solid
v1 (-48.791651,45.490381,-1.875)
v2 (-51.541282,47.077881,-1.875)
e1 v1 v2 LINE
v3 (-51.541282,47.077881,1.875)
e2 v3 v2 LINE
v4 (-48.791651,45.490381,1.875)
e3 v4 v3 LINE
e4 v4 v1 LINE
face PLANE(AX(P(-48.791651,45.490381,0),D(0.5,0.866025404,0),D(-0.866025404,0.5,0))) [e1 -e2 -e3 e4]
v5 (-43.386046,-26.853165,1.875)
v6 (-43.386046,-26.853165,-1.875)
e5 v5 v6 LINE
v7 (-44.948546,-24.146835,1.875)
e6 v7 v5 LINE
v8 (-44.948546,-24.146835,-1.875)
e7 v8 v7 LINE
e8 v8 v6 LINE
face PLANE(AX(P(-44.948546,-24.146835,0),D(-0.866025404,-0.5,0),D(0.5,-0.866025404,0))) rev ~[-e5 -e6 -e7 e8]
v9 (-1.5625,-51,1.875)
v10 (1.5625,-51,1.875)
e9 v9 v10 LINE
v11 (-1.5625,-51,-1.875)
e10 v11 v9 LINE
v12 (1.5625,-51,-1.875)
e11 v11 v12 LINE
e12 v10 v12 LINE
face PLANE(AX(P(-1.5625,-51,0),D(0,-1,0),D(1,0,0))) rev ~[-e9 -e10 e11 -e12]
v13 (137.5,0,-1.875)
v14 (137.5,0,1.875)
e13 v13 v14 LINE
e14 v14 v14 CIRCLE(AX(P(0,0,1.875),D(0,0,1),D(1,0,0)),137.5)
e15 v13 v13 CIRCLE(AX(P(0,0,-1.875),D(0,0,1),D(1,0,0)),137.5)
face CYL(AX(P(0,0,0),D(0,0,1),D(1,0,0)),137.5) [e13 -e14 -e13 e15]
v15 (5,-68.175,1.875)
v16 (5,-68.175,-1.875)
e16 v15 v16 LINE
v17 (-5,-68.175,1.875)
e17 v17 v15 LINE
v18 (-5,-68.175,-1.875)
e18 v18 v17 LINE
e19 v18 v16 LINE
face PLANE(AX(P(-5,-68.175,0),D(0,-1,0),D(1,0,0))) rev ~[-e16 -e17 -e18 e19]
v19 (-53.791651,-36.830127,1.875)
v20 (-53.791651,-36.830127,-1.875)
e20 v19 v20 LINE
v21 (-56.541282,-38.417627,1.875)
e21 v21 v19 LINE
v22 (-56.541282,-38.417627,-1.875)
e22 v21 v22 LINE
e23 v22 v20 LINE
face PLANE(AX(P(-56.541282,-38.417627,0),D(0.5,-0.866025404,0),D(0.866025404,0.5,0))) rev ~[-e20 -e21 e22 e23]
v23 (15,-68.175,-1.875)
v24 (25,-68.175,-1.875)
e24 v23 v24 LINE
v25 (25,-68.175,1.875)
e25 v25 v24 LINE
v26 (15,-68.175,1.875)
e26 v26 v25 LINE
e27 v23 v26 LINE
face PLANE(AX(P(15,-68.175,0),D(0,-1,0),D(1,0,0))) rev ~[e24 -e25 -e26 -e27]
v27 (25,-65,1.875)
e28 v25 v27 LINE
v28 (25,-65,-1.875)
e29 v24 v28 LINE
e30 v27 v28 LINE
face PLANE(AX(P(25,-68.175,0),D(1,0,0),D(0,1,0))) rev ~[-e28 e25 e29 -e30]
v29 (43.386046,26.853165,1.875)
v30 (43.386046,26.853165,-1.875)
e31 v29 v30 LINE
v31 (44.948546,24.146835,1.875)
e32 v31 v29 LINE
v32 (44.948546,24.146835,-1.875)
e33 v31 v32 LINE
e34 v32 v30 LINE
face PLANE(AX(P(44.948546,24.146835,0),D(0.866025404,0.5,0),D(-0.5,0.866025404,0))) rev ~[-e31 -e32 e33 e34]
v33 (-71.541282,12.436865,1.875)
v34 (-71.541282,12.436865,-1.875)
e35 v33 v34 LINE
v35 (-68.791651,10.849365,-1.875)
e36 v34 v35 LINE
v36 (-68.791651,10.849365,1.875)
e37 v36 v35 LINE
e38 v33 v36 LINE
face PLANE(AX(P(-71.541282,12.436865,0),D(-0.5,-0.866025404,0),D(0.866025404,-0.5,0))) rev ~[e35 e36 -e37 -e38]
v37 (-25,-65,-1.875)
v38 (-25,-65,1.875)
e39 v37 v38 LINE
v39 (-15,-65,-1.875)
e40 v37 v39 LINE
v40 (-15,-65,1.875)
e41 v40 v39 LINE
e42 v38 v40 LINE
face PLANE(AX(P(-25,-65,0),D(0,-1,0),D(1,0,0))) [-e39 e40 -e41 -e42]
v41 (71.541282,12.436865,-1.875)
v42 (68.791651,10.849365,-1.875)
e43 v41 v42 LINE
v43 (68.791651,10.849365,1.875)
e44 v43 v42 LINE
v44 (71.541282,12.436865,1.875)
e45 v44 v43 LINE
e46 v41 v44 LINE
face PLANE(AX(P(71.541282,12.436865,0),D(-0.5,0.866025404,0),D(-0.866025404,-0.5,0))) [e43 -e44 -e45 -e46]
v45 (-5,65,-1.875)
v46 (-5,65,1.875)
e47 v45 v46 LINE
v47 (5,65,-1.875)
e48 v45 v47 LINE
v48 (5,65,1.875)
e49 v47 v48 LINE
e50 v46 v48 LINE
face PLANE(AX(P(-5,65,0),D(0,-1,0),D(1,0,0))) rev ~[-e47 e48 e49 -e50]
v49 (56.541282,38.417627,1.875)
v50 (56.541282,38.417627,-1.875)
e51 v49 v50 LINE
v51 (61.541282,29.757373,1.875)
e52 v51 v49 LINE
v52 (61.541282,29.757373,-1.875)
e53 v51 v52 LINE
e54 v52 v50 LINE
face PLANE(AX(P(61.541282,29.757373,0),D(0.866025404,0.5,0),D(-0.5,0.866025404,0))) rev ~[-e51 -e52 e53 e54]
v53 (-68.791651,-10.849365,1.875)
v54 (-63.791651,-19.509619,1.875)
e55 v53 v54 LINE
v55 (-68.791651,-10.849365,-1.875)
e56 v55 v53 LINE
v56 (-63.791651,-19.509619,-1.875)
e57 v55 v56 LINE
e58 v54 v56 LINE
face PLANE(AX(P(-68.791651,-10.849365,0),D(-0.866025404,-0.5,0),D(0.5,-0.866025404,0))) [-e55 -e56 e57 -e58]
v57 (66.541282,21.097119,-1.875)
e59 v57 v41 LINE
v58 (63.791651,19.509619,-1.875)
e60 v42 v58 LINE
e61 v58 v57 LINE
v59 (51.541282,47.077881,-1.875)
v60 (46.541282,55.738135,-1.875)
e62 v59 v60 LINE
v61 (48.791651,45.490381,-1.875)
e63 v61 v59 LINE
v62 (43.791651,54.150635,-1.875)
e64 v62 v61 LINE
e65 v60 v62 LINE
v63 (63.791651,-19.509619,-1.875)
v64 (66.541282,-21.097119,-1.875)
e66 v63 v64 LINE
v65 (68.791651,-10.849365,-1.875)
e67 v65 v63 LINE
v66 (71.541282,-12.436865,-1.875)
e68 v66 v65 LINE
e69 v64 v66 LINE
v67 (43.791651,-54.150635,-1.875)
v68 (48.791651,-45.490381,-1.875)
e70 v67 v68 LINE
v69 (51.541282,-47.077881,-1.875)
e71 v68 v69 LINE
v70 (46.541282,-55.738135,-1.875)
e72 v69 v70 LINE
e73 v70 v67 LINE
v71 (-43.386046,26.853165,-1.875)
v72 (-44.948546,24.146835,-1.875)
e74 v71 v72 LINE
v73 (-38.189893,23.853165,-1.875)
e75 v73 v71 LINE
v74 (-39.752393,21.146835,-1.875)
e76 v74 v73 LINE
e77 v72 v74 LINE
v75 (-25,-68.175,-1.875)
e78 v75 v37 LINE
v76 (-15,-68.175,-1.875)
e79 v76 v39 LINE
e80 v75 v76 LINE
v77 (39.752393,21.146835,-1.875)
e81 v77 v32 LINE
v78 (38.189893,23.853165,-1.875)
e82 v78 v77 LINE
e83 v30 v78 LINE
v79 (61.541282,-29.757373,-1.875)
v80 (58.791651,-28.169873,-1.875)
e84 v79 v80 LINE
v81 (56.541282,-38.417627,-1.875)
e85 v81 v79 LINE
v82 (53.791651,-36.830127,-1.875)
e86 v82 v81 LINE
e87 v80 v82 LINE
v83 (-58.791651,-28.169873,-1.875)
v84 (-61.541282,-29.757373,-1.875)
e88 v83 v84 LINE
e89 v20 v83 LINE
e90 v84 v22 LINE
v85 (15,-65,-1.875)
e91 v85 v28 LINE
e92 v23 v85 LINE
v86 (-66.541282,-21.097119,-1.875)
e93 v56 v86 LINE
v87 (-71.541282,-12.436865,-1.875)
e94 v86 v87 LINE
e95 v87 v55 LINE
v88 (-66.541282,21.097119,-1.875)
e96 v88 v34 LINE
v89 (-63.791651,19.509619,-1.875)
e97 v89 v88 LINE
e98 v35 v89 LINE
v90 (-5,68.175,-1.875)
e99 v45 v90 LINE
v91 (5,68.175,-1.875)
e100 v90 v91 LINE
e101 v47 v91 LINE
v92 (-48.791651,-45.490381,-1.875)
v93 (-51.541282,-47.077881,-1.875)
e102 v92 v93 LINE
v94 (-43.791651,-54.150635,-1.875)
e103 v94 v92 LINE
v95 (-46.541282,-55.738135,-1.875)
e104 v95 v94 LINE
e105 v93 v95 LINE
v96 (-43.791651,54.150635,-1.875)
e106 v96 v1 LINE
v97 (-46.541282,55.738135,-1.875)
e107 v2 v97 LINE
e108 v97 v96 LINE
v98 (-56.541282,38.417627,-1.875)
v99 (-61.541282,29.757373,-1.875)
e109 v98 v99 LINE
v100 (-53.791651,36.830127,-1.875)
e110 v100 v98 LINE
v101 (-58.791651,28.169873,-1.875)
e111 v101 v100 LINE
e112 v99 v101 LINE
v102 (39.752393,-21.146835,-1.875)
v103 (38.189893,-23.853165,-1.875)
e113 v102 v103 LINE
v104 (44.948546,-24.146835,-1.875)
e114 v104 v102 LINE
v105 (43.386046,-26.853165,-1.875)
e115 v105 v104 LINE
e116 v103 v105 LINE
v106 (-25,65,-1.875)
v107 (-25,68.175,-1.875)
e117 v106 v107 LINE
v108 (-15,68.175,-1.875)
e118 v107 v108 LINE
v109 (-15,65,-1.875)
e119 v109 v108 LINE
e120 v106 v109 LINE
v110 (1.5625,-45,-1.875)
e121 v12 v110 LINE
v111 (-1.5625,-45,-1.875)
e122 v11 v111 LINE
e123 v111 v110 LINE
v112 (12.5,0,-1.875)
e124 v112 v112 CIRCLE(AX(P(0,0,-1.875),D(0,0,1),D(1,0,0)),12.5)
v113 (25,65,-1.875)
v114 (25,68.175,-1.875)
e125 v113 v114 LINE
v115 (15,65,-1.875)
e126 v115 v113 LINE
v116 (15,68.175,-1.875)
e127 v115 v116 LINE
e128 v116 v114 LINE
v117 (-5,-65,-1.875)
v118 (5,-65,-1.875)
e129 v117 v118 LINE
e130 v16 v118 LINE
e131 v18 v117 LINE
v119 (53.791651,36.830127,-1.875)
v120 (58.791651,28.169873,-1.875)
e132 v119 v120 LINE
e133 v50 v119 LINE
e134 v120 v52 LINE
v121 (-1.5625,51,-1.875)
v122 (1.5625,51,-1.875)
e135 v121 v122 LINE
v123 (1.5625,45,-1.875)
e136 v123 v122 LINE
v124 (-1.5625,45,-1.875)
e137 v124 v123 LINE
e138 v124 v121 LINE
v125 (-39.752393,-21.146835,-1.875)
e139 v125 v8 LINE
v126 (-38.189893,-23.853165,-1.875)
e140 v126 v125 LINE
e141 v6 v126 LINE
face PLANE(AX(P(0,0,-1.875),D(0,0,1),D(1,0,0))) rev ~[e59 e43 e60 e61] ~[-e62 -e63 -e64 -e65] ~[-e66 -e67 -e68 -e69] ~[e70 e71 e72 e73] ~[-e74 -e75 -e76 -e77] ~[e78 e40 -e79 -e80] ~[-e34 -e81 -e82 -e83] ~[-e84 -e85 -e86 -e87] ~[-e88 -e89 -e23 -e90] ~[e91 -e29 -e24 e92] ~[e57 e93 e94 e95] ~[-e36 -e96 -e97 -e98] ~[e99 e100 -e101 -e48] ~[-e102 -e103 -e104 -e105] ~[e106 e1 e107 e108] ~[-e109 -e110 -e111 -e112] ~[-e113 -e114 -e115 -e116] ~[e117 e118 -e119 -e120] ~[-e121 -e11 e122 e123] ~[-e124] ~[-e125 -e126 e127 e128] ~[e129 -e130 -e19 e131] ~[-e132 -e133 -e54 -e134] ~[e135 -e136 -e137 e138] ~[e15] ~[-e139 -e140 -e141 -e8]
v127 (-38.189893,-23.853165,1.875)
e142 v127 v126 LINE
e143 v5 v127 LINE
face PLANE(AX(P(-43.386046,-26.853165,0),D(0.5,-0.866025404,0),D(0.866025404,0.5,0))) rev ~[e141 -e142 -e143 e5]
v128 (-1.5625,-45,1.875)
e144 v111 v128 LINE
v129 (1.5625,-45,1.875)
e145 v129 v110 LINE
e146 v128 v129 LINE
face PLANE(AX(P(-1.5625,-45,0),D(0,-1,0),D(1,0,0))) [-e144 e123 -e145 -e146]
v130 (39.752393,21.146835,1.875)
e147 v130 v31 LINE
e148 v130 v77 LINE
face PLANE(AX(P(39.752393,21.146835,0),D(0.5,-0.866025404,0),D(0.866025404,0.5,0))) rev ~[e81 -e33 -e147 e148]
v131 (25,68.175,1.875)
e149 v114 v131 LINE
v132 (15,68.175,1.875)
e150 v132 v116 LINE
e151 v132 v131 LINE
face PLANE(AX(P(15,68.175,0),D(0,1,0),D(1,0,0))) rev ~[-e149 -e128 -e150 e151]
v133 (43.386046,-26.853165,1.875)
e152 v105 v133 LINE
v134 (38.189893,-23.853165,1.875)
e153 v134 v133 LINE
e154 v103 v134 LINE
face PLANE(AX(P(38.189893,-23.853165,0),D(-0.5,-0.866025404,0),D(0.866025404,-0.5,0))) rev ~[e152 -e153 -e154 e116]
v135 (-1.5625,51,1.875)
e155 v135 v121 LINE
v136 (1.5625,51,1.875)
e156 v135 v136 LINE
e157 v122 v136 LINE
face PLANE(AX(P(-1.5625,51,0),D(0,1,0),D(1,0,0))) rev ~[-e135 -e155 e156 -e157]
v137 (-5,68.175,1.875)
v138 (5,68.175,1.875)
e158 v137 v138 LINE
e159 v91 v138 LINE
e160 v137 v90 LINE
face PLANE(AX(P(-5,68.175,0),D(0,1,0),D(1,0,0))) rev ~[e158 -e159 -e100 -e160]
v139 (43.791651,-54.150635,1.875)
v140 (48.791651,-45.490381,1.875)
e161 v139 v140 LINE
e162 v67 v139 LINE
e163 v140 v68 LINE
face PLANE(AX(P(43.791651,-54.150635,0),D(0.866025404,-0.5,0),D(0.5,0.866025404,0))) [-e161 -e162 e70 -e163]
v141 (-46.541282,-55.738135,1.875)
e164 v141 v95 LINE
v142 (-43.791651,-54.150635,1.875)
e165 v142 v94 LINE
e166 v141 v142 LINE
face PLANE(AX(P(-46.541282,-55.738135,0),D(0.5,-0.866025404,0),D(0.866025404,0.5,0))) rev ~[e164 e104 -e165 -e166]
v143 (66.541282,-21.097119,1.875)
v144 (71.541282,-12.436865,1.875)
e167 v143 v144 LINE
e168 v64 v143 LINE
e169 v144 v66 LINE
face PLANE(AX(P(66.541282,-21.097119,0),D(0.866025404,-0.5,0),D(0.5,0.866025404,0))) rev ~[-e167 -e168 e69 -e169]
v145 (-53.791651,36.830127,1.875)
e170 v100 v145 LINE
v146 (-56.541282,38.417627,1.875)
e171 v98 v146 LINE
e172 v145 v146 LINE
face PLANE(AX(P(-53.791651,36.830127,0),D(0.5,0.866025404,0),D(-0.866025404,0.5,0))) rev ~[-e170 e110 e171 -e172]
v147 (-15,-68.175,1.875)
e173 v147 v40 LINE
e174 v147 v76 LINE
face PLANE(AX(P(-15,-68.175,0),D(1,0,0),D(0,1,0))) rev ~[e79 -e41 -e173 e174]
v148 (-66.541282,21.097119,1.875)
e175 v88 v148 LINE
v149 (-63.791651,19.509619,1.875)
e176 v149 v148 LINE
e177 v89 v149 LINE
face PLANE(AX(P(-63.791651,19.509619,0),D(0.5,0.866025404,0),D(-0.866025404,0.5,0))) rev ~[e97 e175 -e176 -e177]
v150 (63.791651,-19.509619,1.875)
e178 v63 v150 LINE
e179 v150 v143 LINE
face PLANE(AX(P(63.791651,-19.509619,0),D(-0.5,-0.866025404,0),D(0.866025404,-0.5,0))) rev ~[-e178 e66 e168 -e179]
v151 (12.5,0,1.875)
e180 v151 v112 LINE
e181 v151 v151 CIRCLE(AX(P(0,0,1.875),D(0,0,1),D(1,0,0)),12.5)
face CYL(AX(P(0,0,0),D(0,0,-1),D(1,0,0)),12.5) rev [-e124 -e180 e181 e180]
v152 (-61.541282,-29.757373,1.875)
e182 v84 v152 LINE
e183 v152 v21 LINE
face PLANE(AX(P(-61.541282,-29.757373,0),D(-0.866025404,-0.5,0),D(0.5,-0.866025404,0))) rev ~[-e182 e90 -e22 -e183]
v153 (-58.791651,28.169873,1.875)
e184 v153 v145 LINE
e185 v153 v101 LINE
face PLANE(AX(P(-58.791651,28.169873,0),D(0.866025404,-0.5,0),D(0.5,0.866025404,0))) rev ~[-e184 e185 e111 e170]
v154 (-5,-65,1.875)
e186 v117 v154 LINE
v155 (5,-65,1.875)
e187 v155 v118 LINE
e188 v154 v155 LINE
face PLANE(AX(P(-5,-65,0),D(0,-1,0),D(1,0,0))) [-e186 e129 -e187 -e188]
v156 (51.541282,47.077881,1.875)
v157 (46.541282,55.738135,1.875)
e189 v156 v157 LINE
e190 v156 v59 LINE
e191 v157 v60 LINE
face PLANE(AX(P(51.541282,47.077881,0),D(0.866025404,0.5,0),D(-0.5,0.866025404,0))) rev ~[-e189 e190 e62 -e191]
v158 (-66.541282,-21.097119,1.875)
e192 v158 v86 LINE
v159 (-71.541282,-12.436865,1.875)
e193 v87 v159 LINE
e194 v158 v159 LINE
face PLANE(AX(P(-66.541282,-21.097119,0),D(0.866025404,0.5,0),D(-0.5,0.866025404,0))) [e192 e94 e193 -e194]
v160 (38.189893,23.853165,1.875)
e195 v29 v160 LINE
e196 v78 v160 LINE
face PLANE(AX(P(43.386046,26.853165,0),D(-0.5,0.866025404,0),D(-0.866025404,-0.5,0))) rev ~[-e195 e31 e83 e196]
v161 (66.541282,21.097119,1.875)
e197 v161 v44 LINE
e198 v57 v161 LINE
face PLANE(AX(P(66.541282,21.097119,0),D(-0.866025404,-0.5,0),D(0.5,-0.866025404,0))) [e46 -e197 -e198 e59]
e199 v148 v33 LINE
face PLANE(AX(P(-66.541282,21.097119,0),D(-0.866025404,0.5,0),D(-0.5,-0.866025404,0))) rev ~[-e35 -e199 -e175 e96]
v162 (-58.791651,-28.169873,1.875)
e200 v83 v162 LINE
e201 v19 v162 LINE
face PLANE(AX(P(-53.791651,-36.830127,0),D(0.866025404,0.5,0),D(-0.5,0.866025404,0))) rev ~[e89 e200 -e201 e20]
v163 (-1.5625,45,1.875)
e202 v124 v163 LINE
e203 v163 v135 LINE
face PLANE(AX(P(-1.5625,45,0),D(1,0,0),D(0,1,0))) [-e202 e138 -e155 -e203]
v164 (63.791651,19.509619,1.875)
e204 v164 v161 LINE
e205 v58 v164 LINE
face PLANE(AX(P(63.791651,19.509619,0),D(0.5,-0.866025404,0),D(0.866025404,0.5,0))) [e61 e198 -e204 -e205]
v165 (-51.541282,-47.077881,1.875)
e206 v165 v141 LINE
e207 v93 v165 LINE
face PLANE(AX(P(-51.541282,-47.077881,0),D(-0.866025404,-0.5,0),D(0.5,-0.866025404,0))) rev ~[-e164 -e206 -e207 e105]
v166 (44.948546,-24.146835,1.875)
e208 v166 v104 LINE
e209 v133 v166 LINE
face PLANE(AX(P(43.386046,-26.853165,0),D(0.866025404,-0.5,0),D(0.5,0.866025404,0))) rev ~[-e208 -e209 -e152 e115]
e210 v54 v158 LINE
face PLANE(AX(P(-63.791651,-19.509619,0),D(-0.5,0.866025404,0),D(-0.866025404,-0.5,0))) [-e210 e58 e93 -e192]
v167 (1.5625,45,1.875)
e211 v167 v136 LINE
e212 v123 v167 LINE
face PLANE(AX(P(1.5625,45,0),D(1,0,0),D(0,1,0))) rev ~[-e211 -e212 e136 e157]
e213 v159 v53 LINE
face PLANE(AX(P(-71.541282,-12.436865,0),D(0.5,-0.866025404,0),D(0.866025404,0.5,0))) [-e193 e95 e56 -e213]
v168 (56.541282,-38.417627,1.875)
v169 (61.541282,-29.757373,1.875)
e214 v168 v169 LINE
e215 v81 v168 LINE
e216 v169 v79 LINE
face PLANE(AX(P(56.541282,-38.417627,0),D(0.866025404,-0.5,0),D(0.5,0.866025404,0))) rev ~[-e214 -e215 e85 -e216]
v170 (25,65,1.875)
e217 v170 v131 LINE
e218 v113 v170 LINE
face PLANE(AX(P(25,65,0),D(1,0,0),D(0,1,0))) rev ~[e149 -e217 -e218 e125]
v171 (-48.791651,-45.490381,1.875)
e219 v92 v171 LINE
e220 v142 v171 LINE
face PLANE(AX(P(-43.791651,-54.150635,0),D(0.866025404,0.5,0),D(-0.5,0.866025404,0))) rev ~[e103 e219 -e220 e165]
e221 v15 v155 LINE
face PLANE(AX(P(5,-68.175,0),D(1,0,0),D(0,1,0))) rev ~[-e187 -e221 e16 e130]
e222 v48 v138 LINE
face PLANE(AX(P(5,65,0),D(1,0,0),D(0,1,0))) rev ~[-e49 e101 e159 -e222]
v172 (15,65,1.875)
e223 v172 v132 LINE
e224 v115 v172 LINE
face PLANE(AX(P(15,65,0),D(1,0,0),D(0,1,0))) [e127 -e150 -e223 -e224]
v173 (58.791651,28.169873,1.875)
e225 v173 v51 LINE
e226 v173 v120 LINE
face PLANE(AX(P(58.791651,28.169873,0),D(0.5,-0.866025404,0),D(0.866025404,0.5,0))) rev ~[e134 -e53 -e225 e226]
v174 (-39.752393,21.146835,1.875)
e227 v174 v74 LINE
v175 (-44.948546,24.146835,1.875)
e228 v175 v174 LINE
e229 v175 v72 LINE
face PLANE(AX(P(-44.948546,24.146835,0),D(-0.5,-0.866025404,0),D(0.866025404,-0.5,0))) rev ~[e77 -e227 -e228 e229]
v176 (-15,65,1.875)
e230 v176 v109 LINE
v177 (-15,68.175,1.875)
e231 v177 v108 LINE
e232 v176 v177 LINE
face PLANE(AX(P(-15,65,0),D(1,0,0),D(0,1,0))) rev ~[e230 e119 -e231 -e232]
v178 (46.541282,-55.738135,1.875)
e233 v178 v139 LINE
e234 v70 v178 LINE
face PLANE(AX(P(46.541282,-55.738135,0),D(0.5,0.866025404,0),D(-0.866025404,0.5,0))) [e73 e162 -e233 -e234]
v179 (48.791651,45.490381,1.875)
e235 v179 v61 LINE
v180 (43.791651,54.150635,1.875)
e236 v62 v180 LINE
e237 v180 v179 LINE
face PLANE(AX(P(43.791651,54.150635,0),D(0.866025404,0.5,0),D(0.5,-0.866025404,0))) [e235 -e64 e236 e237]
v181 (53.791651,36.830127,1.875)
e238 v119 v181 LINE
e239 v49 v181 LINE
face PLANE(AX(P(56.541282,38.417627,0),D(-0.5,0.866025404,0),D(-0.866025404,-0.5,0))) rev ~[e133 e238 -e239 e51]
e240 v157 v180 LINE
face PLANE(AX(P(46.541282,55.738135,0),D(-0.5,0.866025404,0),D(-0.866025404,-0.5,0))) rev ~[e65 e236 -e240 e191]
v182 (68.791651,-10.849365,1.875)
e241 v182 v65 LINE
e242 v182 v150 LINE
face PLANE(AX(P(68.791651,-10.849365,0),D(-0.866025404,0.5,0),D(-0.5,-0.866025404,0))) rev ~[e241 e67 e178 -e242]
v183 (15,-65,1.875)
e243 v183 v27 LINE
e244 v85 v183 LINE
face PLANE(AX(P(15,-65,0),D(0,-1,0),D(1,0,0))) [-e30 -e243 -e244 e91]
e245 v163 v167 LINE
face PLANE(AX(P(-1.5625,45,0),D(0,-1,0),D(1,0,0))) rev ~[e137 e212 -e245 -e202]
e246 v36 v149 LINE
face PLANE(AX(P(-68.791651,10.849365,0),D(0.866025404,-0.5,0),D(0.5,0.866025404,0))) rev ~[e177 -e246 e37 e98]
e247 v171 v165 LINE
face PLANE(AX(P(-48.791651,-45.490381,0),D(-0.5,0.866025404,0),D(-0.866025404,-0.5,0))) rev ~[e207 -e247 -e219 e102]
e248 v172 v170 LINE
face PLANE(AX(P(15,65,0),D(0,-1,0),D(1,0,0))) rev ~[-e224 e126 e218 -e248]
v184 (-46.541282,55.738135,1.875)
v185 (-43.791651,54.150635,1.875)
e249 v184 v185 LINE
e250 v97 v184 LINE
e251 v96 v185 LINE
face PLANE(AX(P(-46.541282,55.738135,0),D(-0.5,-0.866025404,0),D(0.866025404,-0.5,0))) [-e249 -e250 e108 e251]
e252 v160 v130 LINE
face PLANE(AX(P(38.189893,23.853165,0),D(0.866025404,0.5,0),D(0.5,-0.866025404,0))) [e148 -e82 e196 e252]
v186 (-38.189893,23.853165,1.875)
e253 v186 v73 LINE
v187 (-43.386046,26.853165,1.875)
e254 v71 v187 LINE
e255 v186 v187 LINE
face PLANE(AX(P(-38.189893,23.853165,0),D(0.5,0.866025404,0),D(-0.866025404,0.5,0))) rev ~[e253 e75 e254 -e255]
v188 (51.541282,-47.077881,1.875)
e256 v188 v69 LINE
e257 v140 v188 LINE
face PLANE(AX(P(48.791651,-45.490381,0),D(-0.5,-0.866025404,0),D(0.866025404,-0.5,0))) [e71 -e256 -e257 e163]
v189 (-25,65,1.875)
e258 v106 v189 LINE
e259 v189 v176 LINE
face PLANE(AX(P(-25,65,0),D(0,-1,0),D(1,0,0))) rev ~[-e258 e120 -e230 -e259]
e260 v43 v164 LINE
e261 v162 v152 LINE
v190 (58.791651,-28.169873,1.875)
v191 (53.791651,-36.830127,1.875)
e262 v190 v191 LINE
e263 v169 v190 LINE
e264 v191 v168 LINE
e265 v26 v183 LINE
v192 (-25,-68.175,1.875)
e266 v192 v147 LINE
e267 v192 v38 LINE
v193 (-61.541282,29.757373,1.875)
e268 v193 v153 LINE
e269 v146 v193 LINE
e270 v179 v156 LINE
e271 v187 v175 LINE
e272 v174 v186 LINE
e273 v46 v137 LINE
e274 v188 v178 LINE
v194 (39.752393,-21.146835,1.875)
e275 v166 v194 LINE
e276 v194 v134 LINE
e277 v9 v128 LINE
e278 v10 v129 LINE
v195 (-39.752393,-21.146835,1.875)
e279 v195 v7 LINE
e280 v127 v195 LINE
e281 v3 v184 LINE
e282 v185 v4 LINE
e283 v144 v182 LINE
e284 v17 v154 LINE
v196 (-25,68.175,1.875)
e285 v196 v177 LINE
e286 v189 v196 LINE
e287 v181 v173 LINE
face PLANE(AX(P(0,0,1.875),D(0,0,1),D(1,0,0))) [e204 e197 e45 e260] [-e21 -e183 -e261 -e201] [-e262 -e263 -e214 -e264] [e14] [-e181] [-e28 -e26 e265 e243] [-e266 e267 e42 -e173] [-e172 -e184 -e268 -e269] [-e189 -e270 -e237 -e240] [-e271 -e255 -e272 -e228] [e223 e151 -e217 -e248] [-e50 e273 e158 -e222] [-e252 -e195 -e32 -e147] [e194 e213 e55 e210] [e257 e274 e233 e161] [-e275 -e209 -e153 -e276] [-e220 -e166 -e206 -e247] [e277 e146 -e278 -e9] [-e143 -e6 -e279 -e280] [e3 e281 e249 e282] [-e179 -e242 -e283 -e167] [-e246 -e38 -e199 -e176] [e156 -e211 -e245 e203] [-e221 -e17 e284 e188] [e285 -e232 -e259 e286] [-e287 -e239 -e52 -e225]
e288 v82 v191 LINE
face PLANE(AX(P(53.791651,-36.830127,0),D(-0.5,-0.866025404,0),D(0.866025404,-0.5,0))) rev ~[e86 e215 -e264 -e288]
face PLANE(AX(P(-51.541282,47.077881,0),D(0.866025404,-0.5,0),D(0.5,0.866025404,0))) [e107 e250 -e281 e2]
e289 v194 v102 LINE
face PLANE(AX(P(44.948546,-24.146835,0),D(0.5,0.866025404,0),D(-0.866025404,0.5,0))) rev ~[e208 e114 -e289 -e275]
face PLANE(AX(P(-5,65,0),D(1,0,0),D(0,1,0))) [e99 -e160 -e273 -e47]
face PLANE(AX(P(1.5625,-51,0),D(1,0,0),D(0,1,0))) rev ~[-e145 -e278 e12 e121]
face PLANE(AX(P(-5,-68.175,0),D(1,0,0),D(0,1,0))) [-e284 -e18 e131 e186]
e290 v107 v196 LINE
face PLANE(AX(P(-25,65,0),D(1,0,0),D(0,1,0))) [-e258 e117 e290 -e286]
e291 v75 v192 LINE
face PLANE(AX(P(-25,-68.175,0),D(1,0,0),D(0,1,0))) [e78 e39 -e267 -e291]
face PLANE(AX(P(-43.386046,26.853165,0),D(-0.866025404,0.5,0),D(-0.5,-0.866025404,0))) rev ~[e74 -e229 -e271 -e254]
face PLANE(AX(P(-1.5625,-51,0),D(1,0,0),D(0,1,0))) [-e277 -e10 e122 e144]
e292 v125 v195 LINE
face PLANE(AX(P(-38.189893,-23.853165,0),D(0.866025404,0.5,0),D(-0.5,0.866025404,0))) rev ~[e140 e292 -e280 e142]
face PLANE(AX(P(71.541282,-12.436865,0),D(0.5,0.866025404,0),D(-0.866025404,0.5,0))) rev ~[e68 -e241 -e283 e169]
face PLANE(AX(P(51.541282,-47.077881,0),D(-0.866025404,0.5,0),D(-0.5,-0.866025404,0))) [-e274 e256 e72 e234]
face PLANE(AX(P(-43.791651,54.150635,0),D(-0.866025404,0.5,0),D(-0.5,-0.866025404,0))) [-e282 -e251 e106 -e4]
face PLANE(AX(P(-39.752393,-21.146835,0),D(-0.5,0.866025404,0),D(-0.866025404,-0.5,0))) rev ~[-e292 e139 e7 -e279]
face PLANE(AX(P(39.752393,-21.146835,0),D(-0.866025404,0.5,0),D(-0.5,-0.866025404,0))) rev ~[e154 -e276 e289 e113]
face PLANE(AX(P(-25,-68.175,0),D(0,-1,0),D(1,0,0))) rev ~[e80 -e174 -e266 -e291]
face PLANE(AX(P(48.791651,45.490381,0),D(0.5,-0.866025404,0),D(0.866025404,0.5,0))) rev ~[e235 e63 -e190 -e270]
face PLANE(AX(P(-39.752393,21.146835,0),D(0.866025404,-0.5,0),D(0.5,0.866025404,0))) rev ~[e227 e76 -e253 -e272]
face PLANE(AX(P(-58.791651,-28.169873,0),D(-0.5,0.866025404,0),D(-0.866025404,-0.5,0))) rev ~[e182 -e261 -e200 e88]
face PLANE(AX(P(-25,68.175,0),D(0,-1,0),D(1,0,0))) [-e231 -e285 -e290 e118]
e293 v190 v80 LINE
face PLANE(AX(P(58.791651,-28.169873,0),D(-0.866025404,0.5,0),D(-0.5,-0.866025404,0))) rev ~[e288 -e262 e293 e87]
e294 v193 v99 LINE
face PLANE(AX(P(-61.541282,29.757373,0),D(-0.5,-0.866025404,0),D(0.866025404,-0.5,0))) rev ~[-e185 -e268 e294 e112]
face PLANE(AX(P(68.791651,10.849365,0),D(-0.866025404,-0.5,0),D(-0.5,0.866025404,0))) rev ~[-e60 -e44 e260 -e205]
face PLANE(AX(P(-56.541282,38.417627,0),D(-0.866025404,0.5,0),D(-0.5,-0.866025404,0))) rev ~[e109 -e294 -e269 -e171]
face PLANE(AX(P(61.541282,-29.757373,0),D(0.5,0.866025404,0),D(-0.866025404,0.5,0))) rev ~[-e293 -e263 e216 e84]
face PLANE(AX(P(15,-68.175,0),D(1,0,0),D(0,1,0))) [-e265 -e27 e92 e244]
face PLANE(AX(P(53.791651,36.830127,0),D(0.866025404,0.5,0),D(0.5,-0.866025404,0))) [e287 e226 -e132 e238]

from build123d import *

# Parameters (mm, degrees)
SKETCH1_R           = 137.5
SKETCH1_R_2         = 12.5
SKETCH1_W           = 10
SKETCH1_H           = 3.175
SKETCH1_W_2         = 3.125
SKETCH1_H_2         = 6
BOSS_EXTRUDE1_DEPTH = 1.875


with BuildPart() as part:
    # Sketch1 → Boss-Extrude1 (new body, symmetric)
    with BuildSketch(Plane.XY):
        Circle(SKETCH1_R)
        Circle(SKETCH1_R_2, mode=Mode.SUBTRACT)
        with Locations((0, 66.5875)):
            Rectangle(SKETCH1_W, SKETCH1_H, mode=Mode.SUBTRACT)
        with Locations((-20, 66.5875)):
            Rectangle(SKETCH1_W, SKETCH1_H, mode=Mode.SUBTRACT)
        with Locations((20, 66.5875)):
            Rectangle(SKETCH1_W, SKETCH1_H, mode=Mode.SUBTRACT)
        with Locations((0, 48)):
            Rectangle(SKETCH1_W_2, SKETCH1_H_2, mode=Mode.SUBTRACT)
        Polygon((61.541281903, 29.757372981), (56.541281903, 38.417627019), (53.791651246, 36.830127019), (58.791651246, 28.169872981), align=None, mode=Mode.SUBTRACT)
        Polygon((51.541281903, 47.077881057), (46.541281903, 55.738135095), (43.791651246, 54.150635095), (48.791651246, 45.490381057), align=None, mode=Mode.SUBTRACT)
        Polygon((71.541281903, 12.436864905), (68.791651246, 10.849364905), (63.791651246, 19.509618943), (66.541281903, 21.097118943), align=None, mode=Mode.SUBTRACT)
        Polygon((44.948545593, 24.146835307), (43.386045593, 26.853164693), (38.18989317, 23.853164693), (39.75239317, 21.146835307), align=None, mode=Mode.SUBTRACT)
        Polygon((56.541281903, -38.417627019), (61.541281903, -29.757372981), (58.791651246, -28.169872981), (53.791651246, -36.830127019), align=None, mode=Mode.SUBTRACT)
        Polygon((66.541281903, -21.097118943), (71.541281903, -12.436864905), (68.791651246, -10.849364905), (63.791651246, -19.509618943), align=None, mode=Mode.SUBTRACT)
        Polygon((46.541281903, -55.738135095), (43.791651246, -54.150635095), (48.791651246, -45.490381057), (51.541281903, -47.077881057), align=None, mode=Mode.SUBTRACT)
        Polygon((43.386045593, -26.853164693), (44.948545593, -24.146835307), (39.75239317, -21.146835307), (38.18989317, -23.853164693), align=None, mode=Mode.SUBTRACT)
        with Locations((0, -66.5875)):
            Rectangle(SKETCH1_W, SKETCH1_H, mode=Mode.SUBTRACT)
        with Locations((20, -66.5875)):
            Rectangle(SKETCH1_W, SKETCH1_H, mode=Mode.SUBTRACT)
        with Locations((-20, -66.5875)):
            Rectangle(SKETCH1_W, SKETCH1_H, mode=Mode.SUBTRACT)
        with Locations((0, -48)):
            Rectangle(SKETCH1_W_2, SKETCH1_H_2, mode=Mode.SUBTRACT)
        Polygon((-61.541281903, -29.757372981), (-56.541281903, -38.417627019), (-53.791651246, -36.830127019), (-58.791651246, -28.169872981), align=None, mode=Mode.SUBTRACT)
        Polygon((-51.541281903, -47.077881057), (-46.541281903, -55.738135095), (-43.791651246, -54.150635095), (-48.791651246, -45.490381057), align=None, mode=Mode.SUBTRACT)
        Polygon((-71.541281903, -12.436864905), (-68.791651246, -10.849364905), (-63.791651246, -19.509618943), (-66.541281903, -21.097118943), align=None, mode=Mode.SUBTRACT)
        Polygon((-44.948545593, -24.146835307), (-43.386045593, -26.853164693), (-38.18989317, -23.853164693), (-39.75239317, -21.146835307), align=None, mode=Mode.SUBTRACT)
        Polygon((-56.541281903, 38.417627019), (-61.541281903, 29.757372981), (-58.791651246, 28.169872981), (-53.791651246, 36.830127019), align=None, mode=Mode.SUBTRACT)
        Polygon((-66.541281903, 21.097118943), (-71.541281903, 12.436864905), (-68.791651246, 10.849364905), (-63.791651246, 19.509618943), align=None, mode=Mode.SUBTRACT)
        Polygon((-46.541281903, 55.738135095), (-43.791651246, 54.150635095), (-48.791651246, 45.490381057), (-51.541281903, 47.077881057), align=None, mode=Mode.SUBTRACT)
        Polygon((-43.386045593, 26.853164693), (-44.948545593, 24.146835307), (-39.75239317, 21.146835307), (-38.18989317, 23.853164693), align=None, mode=Mode.SUBTRACT)
    extrude(amount=BOSS_EXTRUDE1_DEPTH, both=True)


solid = part.part
